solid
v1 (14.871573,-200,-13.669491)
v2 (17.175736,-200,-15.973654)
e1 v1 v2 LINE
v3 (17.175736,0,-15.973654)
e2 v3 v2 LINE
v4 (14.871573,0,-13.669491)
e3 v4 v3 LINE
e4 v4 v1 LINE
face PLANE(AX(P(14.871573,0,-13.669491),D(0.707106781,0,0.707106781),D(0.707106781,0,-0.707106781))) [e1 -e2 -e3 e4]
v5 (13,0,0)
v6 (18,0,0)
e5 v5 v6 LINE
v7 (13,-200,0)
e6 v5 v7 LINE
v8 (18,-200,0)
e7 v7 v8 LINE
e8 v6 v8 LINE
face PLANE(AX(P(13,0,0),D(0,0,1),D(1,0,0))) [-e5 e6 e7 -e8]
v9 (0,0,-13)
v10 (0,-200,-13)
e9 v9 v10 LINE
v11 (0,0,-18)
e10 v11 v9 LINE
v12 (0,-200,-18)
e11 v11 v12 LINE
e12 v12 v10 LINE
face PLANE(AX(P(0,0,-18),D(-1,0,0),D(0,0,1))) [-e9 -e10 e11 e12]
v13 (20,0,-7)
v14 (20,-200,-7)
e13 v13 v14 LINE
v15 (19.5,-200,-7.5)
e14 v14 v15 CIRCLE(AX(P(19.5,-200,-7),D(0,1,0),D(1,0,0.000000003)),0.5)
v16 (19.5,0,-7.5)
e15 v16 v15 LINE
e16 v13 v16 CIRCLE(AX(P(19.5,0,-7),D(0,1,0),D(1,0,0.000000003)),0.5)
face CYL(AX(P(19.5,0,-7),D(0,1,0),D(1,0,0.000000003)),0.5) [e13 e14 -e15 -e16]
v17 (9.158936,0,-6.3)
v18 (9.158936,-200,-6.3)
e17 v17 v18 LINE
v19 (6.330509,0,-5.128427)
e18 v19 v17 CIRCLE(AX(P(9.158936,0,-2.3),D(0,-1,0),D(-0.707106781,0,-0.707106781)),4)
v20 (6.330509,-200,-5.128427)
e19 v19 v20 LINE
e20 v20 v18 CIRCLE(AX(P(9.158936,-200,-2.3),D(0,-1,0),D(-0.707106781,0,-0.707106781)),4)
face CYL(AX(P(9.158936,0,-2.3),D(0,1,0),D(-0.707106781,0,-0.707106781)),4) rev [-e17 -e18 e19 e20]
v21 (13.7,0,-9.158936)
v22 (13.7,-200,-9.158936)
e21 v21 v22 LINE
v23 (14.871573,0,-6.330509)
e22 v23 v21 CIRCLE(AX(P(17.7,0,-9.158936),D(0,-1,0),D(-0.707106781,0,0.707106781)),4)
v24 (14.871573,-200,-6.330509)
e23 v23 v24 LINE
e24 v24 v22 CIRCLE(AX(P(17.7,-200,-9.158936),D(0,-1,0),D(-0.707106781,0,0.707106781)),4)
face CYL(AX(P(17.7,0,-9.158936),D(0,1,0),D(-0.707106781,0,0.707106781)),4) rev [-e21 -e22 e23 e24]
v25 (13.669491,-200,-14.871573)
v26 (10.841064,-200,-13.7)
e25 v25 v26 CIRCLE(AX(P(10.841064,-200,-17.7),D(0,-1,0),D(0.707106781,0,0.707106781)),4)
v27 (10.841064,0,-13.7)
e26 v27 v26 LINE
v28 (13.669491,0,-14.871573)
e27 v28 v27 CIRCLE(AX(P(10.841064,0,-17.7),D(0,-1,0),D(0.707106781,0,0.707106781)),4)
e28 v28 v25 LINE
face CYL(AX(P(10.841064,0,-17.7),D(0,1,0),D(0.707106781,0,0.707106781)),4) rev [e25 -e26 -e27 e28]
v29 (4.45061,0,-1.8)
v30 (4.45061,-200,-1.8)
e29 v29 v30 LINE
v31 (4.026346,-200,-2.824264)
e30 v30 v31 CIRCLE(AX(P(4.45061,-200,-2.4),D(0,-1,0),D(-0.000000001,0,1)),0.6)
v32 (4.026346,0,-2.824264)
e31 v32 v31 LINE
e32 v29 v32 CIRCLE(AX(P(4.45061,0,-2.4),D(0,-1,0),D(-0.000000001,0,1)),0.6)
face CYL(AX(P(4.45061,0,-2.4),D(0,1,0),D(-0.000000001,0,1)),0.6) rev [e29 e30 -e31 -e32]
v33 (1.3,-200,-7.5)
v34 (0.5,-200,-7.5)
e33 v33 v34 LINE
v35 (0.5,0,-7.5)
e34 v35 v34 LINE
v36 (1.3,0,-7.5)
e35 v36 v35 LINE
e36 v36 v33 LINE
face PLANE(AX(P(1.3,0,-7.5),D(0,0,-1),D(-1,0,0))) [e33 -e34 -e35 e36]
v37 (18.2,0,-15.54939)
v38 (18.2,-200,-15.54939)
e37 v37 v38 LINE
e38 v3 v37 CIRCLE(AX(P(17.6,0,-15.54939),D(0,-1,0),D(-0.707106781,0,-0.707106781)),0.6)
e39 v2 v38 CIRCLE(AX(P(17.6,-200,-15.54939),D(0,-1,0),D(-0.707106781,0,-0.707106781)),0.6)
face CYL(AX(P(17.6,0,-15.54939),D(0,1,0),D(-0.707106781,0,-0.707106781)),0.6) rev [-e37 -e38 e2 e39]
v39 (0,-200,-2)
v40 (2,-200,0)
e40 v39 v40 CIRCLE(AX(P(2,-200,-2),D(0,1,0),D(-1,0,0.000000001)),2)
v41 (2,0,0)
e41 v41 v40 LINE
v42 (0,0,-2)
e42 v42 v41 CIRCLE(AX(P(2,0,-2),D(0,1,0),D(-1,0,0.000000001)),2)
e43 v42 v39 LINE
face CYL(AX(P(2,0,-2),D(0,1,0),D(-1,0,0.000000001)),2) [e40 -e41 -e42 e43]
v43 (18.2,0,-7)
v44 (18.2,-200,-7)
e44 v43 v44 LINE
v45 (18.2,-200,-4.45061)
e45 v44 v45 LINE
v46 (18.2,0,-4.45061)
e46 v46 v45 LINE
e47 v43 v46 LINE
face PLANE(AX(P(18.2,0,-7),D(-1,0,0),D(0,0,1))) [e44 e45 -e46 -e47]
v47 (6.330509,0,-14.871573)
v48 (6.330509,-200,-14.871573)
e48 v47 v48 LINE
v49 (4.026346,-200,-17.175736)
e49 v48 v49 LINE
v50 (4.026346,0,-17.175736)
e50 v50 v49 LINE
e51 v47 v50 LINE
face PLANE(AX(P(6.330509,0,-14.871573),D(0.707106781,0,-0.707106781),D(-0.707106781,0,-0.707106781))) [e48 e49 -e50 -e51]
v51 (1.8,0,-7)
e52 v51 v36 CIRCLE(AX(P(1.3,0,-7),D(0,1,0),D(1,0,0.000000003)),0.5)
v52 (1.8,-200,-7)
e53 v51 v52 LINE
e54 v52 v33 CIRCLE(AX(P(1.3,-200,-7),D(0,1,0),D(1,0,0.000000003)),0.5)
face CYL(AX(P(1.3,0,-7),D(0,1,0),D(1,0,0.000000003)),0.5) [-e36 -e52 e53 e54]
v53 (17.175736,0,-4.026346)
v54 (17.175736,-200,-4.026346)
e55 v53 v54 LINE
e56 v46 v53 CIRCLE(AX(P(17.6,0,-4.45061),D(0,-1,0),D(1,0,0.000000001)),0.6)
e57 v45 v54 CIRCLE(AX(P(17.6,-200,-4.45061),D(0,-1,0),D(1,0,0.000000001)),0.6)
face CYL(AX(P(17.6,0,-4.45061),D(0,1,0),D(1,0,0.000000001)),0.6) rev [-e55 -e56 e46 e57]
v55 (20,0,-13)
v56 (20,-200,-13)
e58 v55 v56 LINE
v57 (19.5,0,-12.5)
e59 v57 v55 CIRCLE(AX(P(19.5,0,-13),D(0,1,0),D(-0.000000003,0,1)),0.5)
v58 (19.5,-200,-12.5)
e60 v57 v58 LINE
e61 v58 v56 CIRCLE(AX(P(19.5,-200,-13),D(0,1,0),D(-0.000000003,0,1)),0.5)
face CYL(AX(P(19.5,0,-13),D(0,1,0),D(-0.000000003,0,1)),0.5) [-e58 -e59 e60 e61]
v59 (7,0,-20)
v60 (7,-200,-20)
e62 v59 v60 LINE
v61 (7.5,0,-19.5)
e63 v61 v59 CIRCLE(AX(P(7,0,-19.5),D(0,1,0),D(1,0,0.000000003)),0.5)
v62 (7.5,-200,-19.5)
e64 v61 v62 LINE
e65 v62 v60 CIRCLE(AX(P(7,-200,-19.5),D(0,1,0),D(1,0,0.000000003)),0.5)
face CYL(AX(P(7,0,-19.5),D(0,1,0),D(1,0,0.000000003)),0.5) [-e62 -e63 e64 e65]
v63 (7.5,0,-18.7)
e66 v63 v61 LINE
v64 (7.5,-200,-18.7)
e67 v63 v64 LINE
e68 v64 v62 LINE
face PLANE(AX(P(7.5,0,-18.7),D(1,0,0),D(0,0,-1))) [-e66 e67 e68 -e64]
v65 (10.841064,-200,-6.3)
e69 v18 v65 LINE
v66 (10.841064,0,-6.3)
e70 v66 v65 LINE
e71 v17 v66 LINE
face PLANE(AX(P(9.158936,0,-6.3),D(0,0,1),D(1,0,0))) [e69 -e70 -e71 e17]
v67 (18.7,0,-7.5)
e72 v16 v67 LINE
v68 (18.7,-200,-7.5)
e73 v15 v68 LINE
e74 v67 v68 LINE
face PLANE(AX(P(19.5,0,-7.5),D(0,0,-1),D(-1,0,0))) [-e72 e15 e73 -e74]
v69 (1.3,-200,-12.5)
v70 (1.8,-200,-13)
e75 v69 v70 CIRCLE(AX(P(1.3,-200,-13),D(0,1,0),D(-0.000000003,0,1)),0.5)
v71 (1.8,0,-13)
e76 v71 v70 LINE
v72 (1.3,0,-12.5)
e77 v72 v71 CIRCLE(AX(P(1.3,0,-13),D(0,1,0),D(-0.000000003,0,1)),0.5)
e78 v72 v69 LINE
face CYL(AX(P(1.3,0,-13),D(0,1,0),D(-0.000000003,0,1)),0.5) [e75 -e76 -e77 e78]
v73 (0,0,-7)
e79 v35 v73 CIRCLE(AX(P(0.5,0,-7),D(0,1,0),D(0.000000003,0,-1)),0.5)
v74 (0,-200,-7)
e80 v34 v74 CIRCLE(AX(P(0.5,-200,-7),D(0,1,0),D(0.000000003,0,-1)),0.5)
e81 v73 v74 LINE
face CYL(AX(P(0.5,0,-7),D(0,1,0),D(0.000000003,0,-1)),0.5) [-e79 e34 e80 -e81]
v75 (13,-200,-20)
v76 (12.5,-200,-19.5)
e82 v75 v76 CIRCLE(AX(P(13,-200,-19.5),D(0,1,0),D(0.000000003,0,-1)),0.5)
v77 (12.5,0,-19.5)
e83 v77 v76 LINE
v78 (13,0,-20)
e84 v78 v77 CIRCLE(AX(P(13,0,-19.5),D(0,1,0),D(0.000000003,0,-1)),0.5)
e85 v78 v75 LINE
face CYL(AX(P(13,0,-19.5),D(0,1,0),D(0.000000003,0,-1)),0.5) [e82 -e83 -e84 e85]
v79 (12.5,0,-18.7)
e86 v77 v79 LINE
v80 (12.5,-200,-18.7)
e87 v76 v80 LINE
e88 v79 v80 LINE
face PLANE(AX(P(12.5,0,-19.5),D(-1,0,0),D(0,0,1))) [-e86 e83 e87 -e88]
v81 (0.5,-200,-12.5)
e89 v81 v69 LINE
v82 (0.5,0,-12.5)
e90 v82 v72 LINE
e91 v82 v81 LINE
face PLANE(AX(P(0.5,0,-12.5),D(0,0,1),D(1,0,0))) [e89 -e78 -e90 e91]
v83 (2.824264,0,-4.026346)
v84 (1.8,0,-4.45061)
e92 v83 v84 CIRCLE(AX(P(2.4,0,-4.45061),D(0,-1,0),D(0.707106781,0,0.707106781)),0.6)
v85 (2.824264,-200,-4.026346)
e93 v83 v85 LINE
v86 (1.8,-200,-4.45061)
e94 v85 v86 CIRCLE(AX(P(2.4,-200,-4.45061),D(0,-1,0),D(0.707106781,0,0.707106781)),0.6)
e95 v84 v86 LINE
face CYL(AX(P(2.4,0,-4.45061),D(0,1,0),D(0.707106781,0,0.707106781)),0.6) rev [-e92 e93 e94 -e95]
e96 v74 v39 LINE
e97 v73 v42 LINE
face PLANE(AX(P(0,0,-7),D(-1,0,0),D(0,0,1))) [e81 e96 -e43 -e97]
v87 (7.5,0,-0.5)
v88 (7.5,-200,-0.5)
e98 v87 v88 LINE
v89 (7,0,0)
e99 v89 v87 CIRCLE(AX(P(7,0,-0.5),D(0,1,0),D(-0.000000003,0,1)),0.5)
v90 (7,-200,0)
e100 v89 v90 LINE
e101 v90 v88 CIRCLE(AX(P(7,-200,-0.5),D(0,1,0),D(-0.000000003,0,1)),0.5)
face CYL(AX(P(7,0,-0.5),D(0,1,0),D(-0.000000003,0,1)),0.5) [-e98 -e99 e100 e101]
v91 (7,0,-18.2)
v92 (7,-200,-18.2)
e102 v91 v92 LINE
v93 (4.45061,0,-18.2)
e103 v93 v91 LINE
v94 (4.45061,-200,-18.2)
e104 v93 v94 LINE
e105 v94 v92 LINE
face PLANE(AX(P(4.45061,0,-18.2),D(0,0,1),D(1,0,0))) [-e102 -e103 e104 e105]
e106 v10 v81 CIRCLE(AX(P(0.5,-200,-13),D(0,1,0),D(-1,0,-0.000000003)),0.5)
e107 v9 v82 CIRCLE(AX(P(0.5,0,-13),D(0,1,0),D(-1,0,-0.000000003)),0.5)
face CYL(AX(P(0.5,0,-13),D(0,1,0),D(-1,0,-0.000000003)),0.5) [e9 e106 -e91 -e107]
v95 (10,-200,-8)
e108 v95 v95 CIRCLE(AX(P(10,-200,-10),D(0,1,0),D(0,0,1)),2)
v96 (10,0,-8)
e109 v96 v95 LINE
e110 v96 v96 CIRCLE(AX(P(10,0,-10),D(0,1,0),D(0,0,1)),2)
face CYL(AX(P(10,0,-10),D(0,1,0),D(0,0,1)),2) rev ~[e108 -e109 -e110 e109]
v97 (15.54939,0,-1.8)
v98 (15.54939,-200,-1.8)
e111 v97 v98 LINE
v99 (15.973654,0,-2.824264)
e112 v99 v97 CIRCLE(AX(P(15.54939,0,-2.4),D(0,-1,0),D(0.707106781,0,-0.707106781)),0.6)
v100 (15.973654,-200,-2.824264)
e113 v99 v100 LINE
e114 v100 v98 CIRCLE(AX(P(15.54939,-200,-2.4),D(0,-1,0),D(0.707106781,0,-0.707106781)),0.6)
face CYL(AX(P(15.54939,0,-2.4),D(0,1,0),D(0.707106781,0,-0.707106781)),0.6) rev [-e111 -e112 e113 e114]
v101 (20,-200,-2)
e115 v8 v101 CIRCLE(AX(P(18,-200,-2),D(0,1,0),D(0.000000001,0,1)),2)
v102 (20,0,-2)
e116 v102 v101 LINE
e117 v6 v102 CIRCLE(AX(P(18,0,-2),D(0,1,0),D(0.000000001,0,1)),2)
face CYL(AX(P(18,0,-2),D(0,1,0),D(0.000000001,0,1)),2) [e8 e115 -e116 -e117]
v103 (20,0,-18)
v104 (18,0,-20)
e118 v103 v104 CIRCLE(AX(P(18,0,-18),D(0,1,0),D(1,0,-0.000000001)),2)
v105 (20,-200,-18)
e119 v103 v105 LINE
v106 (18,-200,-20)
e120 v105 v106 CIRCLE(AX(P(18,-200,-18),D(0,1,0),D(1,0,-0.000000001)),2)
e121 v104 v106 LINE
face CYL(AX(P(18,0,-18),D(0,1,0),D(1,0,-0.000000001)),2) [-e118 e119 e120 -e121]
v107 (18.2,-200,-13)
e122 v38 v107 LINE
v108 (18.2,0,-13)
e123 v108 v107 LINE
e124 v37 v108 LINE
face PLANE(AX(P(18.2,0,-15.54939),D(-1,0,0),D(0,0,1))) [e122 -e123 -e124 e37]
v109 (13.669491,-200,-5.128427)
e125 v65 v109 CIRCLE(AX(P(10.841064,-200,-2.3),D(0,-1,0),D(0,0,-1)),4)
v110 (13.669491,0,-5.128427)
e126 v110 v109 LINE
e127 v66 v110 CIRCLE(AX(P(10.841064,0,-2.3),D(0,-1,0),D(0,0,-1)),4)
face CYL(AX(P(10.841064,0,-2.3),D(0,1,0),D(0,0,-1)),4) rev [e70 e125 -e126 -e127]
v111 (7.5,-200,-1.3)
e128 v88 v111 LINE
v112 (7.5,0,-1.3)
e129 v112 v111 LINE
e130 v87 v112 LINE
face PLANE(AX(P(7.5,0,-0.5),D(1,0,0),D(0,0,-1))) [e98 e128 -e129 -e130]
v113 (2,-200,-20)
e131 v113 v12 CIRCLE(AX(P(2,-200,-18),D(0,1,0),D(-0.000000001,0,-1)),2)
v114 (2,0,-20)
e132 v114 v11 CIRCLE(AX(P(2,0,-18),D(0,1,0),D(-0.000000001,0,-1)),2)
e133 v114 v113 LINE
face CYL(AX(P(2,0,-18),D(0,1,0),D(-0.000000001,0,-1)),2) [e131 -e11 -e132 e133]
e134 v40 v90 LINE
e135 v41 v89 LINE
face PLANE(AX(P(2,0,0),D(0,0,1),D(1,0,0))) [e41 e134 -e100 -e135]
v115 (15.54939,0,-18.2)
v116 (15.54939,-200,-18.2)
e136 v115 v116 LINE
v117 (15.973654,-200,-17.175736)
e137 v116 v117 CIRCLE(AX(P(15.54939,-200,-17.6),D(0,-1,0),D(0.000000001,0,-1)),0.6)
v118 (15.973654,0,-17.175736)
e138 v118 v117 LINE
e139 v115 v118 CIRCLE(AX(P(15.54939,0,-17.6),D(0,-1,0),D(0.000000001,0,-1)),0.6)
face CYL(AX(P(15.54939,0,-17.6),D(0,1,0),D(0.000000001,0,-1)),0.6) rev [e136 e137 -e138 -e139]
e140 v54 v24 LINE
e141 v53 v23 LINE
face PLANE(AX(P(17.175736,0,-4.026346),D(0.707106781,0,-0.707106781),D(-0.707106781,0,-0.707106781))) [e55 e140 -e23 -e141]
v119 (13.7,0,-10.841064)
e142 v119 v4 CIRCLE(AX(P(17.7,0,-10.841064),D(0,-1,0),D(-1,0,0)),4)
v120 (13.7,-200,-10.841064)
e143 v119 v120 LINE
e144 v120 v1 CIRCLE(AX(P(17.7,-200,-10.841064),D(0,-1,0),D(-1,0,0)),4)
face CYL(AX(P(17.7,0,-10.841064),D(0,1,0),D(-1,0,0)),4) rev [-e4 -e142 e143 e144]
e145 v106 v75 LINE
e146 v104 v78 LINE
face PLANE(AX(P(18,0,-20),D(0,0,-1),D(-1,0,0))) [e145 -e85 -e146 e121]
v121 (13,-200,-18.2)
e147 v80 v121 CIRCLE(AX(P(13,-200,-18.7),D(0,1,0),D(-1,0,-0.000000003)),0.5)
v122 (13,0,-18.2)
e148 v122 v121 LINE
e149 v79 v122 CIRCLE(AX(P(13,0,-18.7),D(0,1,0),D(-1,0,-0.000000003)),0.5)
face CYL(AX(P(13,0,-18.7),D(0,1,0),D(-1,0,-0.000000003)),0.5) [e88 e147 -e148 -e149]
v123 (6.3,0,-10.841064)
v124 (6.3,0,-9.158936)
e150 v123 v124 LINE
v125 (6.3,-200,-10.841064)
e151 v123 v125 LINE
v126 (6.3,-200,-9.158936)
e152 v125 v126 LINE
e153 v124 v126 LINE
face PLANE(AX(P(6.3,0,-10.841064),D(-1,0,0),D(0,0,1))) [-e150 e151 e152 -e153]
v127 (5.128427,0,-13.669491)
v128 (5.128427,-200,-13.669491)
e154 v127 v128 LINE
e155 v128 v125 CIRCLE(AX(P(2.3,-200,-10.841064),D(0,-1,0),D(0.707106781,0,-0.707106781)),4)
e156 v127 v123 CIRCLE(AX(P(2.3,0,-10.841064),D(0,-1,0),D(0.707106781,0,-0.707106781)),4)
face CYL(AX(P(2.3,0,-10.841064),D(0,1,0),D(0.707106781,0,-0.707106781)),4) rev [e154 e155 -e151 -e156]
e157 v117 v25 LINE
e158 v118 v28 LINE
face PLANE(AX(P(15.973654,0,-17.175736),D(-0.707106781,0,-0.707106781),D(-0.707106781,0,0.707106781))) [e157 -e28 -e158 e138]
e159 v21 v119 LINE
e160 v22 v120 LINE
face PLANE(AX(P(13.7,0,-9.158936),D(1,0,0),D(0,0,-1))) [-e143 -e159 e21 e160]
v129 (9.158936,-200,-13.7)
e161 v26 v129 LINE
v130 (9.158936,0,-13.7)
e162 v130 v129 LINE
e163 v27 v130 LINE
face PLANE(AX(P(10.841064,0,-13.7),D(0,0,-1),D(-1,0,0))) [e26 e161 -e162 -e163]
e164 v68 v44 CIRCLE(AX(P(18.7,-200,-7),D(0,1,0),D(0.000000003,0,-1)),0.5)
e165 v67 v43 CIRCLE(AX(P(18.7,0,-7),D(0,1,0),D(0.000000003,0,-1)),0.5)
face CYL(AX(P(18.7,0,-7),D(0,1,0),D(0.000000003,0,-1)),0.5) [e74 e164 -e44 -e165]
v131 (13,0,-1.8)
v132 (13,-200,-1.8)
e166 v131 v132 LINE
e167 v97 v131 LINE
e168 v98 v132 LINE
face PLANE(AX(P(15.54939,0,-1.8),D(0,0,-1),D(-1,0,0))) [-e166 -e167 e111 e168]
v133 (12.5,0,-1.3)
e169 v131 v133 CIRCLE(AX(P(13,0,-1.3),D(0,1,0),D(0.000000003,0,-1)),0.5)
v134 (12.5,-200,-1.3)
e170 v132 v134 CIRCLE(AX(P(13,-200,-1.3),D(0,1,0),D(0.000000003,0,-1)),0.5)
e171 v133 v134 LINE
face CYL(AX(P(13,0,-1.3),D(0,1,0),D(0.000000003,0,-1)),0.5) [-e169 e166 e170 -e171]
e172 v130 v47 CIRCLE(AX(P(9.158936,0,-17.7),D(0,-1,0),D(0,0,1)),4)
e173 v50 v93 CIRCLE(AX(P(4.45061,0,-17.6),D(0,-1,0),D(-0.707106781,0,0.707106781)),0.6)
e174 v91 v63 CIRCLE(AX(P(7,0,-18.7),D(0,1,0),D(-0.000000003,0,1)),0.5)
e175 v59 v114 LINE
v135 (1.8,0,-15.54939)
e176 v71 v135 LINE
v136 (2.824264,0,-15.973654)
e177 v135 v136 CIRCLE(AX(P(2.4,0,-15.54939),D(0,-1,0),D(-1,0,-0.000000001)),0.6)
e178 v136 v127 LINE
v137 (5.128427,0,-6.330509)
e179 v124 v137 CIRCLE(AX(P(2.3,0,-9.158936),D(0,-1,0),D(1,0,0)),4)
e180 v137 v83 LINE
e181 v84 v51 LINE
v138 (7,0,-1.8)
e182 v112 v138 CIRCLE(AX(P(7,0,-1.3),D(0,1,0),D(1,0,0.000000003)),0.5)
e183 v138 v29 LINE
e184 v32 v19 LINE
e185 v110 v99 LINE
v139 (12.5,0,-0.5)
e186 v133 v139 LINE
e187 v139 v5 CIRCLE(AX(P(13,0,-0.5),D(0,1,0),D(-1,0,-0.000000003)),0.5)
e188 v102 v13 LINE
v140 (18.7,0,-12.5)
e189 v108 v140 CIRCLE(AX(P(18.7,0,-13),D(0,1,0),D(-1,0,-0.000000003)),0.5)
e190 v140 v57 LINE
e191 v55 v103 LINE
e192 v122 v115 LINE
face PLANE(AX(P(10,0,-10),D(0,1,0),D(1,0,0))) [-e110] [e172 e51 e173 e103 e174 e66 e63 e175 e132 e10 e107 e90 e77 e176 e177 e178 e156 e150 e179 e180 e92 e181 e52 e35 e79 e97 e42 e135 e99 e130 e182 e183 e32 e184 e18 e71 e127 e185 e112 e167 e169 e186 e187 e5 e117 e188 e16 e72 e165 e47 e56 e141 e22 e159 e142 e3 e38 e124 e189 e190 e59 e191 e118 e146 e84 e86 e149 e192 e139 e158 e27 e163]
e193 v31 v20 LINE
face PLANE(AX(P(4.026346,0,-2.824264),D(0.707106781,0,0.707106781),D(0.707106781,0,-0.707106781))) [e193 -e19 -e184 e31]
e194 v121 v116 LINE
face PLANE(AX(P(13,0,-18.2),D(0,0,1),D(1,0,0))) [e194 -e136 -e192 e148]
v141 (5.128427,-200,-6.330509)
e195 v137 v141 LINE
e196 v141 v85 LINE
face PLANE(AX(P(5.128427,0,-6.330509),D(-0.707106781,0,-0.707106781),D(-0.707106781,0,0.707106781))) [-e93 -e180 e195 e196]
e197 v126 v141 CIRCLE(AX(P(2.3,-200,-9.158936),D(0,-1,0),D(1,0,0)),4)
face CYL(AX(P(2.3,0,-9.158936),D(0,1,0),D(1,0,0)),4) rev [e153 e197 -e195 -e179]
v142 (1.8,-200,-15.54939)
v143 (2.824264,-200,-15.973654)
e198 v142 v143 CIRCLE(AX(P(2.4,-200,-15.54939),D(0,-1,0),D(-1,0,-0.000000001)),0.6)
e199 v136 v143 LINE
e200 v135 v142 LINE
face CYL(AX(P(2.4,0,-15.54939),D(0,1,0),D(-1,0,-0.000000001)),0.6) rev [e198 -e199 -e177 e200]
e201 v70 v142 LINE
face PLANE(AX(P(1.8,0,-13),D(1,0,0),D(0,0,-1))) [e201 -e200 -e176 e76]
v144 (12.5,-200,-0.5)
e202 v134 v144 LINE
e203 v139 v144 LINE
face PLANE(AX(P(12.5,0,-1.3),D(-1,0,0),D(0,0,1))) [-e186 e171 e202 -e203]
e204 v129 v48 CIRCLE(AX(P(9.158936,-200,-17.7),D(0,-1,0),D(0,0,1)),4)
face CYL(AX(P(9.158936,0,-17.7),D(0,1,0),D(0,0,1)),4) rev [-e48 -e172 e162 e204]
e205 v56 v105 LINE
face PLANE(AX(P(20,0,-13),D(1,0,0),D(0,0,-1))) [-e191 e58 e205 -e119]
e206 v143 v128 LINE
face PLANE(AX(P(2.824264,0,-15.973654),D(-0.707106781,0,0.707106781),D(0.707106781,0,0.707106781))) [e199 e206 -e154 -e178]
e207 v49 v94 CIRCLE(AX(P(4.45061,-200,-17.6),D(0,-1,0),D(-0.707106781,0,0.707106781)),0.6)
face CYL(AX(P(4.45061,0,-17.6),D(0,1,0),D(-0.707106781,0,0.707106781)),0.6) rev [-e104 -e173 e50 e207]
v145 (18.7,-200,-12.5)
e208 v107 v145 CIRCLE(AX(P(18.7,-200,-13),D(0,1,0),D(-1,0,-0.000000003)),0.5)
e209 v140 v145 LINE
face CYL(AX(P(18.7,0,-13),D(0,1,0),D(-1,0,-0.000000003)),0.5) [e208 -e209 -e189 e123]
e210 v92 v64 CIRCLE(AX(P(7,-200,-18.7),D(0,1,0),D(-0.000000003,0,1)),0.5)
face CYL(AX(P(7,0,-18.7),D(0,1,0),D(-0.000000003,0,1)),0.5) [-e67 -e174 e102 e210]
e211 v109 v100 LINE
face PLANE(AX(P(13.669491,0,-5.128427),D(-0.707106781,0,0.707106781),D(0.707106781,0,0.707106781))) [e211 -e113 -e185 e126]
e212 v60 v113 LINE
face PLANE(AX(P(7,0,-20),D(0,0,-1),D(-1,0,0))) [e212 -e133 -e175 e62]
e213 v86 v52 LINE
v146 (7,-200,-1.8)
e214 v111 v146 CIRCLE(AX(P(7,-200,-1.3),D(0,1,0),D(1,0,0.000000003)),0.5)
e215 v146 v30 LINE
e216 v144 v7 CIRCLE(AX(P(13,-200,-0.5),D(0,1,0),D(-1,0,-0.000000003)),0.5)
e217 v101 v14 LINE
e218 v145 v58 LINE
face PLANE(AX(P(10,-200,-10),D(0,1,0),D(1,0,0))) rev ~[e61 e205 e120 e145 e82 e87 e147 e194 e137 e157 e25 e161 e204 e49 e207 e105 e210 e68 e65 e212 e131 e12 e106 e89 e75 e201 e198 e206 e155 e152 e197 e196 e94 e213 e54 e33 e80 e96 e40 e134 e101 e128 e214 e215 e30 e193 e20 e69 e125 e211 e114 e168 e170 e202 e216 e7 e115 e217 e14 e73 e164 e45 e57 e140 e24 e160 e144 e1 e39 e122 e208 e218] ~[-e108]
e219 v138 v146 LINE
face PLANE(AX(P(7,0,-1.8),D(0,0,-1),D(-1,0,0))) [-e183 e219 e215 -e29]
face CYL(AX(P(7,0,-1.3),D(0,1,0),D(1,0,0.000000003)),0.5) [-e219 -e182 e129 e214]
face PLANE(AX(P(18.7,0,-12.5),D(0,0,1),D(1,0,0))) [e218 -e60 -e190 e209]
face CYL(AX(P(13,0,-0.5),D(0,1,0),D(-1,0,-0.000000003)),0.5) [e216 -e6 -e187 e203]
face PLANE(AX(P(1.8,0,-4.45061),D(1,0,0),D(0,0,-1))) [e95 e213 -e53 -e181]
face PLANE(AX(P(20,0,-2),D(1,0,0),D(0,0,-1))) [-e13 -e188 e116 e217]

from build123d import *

# Parameters (mm, degrees)
SKETCH1_R           = 2
BOSS_EXTRUDE1_DEPTH = 200


with BuildPart() as part:
    # Sketch1 → Boss-Extrude1 (new body)
    with BuildSketch(Plane(origin=(0, 0, 0), x_dir=(1, 0, 0), z_dir=(0, 1, 0))):
        with BuildLine():
            Line((2.824264069, 15.973654403), (5.128427125, 13.669491347))
            ThreePointArc((5.128427125, 13.669491347), (5.99551813, 12.371797952), (6.3, 10.841064222))
            Line((6.3, 10.841064222), (6.3, 9.158935778))
            ThreePointArc((6.3, 9.158935778), (5.99551813, 7.628202048), (5.128427125, 6.330508653))
            Line((5.128427125, 6.330508653), (2.824264069, 4.026345597))
            ThreePointArc((2.824264069, 4.026345597), (2.170389941, 3.896281946), (1.8, 4.450609665))
            Line((1.8, 4.450609665), (1.8, 7))
            ThreePointArc((1.8, 7), (1.653553391, 7.353553391), (1.3, 7.5))
            Line((1.3, 7.5), (0.5, 7.5))
            ThreePointArc((0.5, 7.5), (0.146446609, 7.353553391), (0, 7))
            Line((0, 7), (0, 2))
            ThreePointArc((0, 2), (0.585786438, 0.585786438), (2, 0))
            Line((2, 0), (7, 0))
            ThreePointArc((7, 0), (7.353553391, 0.146446609), (7.5, 0.5))
            Line((7.5, 0.5), (7.5, 1.3))
            ThreePointArc((7.5, 1.3), (7.353553391, 1.653553391), (7, 1.8))
            Line((7, 1.8), (4.450609665, 1.8))
            ThreePointArc((4.450609665, 1.8), (3.896281946, 2.170389941), (4.026345597, 2.824264069))
            Line((4.026345597, 2.824264069), (6.330508653, 5.128427125))
            ThreePointArc((6.330508653, 5.128427125), (7.628202048, 5.99551813), (9.158935778, 6.3))
            Line((9.158935778, 6.3), (10.841064222, 6.3))
            ThreePointArc((10.841064222, 6.3), (12.371797952, 5.99551813), (13.669491347, 5.128427125))
            Line((13.669491347, 5.128427125), (15.973654403, 2.824264069))
            ThreePointArc((15.973654403, 2.824264069), (16.103718054, 2.170389941), (15.549390335, 1.8))
            Line((15.549390335, 1.8), (13, 1.8))
            ThreePointArc((13, 1.8), (12.646446609, 1.653553391), (12.5, 1.3))
            Line((12.5, 1.3), (12.5, 0.5))
            ThreePointArc((12.5, 0.5), (12.646446609, 0.146446609), (13, 0))
            Line((13, 0), (18, 0))
            ThreePointArc((18, 0), (19.414213562, 0.585786438), (20, 2))
            Line((20, 2), (20, 7))
            ThreePointArc((20, 7), (19.853553391, 7.353553391), (19.5, 7.5))
            Line((19.5, 7.5), (18.7, 7.5))
            ThreePointArc((18.7, 7.5), (18.346446609, 7.353553391), (18.2, 7))
            Line((18.2, 7), (18.2, 4.450609665))
            ThreePointArc((18.2, 4.450609665), (17.829610059, 3.896281946), (17.175735931, 4.026345597))
            Line((17.175735931, 4.026345597), (14.871572875, 6.330508653))
            ThreePointArc((14.871572875, 6.330508653), (14.00448187, 7.628202048), (13.7, 9.158935778))
            Line((13.7, 9.158935778), (13.7, 10.841064222))
            ThreePointArc((13.7, 10.841064222), (14.00448187, 12.371797952), (14.871572875, 13.669491347))
            Line((14.871572875, 13.669491347), (17.175735931, 15.973654403))
            ThreePointArc((17.175735931, 15.973654403), (17.829610059, 16.103718054), (18.2, 15.549390335))
            Line((18.2, 15.549390335), (18.2, 13))
            ThreePointArc((18.2, 13), (18.346446609, 12.646446609), (18.7, 12.5))
            Line((18.7, 12.5), (19.5, 12.5))
            ThreePointArc((19.5, 12.5), (19.853553391, 12.646446609), (20, 13))
            Line((20, 13), (20, 18))
            ThreePointArc((20, 18), (19.414213562, 19.414213562), (18, 20))
            Line((18, 20), (13, 20))
            ThreePointArc((13, 20), (12.646446609, 19.853553391), (12.5, 19.5))
            Line((12.5, 19.5), (12.5, 18.7))
            ThreePointArc((12.5, 18.7), (12.646446609, 18.346446609), (13, 18.2))
            Line((13, 18.2), (15.549390335, 18.2))
            ThreePointArc((15.549390335, 18.2), (16.103718054, 17.829610059), (15.973654403, 17.175735931))
            Line((15.973654403, 17.175735931), (13.669491347, 14.871572875))
            ThreePointArc((13.669491347, 14.871572875), (12.371797952, 14.00448187), (10.841064222, 13.7))
            Line((10.841064222, 13.7), (9.158935778, 13.7))
            ThreePointArc((9.158935778, 13.7), (7.628202048, 14.00448187), (6.330508653, 14.871572875))
            Line((6.330508653, 14.871572875), (4.026345597, 17.175735931))
            ThreePointArc((4.026345597, 17.175735931), (3.896281946, 17.829610059), (4.450609665, 18.2))
            Line((4.450609665, 18.2), (7, 18.2))
            ThreePointArc((7, 18.2), (7.353553391, 18.346446609), (7.5, 18.7))
            Line((7.5, 18.7), (7.5, 19.5))
            ThreePointArc((7.5, 19.5), (7.353553391, 19.853553391), (7, 20))
            Line((7, 20), (2, 20))
            ThreePointArc((2, 20), (0.585786438, 19.414213562), (0, 18))
            Line((0, 18), (0, 13))
            ThreePointArc((0, 13), (0.146446609, 12.646446609), (0.5, 12.5))
            Line((0.5, 12.5), (1.3, 12.5))
            ThreePointArc((1.3, 12.5), (1.653553391, 12.646446609), (1.8, 13))
            Line((1.8, 13), (1.8, 15.549390335))
            ThreePointArc((1.8, 15.549390335), (2.170389941, 16.103718054), (2.824264069, 15.973654403))
        make_face()
        with Locations(Location((10, 10, 0), (0, 0, 270))):
            Circle(SKETCH1_R, mode=Mode.SUBTRACT)
    extrude(amount=-BOSS_EXTRUDE1_DEPTH)


solid = part.part
